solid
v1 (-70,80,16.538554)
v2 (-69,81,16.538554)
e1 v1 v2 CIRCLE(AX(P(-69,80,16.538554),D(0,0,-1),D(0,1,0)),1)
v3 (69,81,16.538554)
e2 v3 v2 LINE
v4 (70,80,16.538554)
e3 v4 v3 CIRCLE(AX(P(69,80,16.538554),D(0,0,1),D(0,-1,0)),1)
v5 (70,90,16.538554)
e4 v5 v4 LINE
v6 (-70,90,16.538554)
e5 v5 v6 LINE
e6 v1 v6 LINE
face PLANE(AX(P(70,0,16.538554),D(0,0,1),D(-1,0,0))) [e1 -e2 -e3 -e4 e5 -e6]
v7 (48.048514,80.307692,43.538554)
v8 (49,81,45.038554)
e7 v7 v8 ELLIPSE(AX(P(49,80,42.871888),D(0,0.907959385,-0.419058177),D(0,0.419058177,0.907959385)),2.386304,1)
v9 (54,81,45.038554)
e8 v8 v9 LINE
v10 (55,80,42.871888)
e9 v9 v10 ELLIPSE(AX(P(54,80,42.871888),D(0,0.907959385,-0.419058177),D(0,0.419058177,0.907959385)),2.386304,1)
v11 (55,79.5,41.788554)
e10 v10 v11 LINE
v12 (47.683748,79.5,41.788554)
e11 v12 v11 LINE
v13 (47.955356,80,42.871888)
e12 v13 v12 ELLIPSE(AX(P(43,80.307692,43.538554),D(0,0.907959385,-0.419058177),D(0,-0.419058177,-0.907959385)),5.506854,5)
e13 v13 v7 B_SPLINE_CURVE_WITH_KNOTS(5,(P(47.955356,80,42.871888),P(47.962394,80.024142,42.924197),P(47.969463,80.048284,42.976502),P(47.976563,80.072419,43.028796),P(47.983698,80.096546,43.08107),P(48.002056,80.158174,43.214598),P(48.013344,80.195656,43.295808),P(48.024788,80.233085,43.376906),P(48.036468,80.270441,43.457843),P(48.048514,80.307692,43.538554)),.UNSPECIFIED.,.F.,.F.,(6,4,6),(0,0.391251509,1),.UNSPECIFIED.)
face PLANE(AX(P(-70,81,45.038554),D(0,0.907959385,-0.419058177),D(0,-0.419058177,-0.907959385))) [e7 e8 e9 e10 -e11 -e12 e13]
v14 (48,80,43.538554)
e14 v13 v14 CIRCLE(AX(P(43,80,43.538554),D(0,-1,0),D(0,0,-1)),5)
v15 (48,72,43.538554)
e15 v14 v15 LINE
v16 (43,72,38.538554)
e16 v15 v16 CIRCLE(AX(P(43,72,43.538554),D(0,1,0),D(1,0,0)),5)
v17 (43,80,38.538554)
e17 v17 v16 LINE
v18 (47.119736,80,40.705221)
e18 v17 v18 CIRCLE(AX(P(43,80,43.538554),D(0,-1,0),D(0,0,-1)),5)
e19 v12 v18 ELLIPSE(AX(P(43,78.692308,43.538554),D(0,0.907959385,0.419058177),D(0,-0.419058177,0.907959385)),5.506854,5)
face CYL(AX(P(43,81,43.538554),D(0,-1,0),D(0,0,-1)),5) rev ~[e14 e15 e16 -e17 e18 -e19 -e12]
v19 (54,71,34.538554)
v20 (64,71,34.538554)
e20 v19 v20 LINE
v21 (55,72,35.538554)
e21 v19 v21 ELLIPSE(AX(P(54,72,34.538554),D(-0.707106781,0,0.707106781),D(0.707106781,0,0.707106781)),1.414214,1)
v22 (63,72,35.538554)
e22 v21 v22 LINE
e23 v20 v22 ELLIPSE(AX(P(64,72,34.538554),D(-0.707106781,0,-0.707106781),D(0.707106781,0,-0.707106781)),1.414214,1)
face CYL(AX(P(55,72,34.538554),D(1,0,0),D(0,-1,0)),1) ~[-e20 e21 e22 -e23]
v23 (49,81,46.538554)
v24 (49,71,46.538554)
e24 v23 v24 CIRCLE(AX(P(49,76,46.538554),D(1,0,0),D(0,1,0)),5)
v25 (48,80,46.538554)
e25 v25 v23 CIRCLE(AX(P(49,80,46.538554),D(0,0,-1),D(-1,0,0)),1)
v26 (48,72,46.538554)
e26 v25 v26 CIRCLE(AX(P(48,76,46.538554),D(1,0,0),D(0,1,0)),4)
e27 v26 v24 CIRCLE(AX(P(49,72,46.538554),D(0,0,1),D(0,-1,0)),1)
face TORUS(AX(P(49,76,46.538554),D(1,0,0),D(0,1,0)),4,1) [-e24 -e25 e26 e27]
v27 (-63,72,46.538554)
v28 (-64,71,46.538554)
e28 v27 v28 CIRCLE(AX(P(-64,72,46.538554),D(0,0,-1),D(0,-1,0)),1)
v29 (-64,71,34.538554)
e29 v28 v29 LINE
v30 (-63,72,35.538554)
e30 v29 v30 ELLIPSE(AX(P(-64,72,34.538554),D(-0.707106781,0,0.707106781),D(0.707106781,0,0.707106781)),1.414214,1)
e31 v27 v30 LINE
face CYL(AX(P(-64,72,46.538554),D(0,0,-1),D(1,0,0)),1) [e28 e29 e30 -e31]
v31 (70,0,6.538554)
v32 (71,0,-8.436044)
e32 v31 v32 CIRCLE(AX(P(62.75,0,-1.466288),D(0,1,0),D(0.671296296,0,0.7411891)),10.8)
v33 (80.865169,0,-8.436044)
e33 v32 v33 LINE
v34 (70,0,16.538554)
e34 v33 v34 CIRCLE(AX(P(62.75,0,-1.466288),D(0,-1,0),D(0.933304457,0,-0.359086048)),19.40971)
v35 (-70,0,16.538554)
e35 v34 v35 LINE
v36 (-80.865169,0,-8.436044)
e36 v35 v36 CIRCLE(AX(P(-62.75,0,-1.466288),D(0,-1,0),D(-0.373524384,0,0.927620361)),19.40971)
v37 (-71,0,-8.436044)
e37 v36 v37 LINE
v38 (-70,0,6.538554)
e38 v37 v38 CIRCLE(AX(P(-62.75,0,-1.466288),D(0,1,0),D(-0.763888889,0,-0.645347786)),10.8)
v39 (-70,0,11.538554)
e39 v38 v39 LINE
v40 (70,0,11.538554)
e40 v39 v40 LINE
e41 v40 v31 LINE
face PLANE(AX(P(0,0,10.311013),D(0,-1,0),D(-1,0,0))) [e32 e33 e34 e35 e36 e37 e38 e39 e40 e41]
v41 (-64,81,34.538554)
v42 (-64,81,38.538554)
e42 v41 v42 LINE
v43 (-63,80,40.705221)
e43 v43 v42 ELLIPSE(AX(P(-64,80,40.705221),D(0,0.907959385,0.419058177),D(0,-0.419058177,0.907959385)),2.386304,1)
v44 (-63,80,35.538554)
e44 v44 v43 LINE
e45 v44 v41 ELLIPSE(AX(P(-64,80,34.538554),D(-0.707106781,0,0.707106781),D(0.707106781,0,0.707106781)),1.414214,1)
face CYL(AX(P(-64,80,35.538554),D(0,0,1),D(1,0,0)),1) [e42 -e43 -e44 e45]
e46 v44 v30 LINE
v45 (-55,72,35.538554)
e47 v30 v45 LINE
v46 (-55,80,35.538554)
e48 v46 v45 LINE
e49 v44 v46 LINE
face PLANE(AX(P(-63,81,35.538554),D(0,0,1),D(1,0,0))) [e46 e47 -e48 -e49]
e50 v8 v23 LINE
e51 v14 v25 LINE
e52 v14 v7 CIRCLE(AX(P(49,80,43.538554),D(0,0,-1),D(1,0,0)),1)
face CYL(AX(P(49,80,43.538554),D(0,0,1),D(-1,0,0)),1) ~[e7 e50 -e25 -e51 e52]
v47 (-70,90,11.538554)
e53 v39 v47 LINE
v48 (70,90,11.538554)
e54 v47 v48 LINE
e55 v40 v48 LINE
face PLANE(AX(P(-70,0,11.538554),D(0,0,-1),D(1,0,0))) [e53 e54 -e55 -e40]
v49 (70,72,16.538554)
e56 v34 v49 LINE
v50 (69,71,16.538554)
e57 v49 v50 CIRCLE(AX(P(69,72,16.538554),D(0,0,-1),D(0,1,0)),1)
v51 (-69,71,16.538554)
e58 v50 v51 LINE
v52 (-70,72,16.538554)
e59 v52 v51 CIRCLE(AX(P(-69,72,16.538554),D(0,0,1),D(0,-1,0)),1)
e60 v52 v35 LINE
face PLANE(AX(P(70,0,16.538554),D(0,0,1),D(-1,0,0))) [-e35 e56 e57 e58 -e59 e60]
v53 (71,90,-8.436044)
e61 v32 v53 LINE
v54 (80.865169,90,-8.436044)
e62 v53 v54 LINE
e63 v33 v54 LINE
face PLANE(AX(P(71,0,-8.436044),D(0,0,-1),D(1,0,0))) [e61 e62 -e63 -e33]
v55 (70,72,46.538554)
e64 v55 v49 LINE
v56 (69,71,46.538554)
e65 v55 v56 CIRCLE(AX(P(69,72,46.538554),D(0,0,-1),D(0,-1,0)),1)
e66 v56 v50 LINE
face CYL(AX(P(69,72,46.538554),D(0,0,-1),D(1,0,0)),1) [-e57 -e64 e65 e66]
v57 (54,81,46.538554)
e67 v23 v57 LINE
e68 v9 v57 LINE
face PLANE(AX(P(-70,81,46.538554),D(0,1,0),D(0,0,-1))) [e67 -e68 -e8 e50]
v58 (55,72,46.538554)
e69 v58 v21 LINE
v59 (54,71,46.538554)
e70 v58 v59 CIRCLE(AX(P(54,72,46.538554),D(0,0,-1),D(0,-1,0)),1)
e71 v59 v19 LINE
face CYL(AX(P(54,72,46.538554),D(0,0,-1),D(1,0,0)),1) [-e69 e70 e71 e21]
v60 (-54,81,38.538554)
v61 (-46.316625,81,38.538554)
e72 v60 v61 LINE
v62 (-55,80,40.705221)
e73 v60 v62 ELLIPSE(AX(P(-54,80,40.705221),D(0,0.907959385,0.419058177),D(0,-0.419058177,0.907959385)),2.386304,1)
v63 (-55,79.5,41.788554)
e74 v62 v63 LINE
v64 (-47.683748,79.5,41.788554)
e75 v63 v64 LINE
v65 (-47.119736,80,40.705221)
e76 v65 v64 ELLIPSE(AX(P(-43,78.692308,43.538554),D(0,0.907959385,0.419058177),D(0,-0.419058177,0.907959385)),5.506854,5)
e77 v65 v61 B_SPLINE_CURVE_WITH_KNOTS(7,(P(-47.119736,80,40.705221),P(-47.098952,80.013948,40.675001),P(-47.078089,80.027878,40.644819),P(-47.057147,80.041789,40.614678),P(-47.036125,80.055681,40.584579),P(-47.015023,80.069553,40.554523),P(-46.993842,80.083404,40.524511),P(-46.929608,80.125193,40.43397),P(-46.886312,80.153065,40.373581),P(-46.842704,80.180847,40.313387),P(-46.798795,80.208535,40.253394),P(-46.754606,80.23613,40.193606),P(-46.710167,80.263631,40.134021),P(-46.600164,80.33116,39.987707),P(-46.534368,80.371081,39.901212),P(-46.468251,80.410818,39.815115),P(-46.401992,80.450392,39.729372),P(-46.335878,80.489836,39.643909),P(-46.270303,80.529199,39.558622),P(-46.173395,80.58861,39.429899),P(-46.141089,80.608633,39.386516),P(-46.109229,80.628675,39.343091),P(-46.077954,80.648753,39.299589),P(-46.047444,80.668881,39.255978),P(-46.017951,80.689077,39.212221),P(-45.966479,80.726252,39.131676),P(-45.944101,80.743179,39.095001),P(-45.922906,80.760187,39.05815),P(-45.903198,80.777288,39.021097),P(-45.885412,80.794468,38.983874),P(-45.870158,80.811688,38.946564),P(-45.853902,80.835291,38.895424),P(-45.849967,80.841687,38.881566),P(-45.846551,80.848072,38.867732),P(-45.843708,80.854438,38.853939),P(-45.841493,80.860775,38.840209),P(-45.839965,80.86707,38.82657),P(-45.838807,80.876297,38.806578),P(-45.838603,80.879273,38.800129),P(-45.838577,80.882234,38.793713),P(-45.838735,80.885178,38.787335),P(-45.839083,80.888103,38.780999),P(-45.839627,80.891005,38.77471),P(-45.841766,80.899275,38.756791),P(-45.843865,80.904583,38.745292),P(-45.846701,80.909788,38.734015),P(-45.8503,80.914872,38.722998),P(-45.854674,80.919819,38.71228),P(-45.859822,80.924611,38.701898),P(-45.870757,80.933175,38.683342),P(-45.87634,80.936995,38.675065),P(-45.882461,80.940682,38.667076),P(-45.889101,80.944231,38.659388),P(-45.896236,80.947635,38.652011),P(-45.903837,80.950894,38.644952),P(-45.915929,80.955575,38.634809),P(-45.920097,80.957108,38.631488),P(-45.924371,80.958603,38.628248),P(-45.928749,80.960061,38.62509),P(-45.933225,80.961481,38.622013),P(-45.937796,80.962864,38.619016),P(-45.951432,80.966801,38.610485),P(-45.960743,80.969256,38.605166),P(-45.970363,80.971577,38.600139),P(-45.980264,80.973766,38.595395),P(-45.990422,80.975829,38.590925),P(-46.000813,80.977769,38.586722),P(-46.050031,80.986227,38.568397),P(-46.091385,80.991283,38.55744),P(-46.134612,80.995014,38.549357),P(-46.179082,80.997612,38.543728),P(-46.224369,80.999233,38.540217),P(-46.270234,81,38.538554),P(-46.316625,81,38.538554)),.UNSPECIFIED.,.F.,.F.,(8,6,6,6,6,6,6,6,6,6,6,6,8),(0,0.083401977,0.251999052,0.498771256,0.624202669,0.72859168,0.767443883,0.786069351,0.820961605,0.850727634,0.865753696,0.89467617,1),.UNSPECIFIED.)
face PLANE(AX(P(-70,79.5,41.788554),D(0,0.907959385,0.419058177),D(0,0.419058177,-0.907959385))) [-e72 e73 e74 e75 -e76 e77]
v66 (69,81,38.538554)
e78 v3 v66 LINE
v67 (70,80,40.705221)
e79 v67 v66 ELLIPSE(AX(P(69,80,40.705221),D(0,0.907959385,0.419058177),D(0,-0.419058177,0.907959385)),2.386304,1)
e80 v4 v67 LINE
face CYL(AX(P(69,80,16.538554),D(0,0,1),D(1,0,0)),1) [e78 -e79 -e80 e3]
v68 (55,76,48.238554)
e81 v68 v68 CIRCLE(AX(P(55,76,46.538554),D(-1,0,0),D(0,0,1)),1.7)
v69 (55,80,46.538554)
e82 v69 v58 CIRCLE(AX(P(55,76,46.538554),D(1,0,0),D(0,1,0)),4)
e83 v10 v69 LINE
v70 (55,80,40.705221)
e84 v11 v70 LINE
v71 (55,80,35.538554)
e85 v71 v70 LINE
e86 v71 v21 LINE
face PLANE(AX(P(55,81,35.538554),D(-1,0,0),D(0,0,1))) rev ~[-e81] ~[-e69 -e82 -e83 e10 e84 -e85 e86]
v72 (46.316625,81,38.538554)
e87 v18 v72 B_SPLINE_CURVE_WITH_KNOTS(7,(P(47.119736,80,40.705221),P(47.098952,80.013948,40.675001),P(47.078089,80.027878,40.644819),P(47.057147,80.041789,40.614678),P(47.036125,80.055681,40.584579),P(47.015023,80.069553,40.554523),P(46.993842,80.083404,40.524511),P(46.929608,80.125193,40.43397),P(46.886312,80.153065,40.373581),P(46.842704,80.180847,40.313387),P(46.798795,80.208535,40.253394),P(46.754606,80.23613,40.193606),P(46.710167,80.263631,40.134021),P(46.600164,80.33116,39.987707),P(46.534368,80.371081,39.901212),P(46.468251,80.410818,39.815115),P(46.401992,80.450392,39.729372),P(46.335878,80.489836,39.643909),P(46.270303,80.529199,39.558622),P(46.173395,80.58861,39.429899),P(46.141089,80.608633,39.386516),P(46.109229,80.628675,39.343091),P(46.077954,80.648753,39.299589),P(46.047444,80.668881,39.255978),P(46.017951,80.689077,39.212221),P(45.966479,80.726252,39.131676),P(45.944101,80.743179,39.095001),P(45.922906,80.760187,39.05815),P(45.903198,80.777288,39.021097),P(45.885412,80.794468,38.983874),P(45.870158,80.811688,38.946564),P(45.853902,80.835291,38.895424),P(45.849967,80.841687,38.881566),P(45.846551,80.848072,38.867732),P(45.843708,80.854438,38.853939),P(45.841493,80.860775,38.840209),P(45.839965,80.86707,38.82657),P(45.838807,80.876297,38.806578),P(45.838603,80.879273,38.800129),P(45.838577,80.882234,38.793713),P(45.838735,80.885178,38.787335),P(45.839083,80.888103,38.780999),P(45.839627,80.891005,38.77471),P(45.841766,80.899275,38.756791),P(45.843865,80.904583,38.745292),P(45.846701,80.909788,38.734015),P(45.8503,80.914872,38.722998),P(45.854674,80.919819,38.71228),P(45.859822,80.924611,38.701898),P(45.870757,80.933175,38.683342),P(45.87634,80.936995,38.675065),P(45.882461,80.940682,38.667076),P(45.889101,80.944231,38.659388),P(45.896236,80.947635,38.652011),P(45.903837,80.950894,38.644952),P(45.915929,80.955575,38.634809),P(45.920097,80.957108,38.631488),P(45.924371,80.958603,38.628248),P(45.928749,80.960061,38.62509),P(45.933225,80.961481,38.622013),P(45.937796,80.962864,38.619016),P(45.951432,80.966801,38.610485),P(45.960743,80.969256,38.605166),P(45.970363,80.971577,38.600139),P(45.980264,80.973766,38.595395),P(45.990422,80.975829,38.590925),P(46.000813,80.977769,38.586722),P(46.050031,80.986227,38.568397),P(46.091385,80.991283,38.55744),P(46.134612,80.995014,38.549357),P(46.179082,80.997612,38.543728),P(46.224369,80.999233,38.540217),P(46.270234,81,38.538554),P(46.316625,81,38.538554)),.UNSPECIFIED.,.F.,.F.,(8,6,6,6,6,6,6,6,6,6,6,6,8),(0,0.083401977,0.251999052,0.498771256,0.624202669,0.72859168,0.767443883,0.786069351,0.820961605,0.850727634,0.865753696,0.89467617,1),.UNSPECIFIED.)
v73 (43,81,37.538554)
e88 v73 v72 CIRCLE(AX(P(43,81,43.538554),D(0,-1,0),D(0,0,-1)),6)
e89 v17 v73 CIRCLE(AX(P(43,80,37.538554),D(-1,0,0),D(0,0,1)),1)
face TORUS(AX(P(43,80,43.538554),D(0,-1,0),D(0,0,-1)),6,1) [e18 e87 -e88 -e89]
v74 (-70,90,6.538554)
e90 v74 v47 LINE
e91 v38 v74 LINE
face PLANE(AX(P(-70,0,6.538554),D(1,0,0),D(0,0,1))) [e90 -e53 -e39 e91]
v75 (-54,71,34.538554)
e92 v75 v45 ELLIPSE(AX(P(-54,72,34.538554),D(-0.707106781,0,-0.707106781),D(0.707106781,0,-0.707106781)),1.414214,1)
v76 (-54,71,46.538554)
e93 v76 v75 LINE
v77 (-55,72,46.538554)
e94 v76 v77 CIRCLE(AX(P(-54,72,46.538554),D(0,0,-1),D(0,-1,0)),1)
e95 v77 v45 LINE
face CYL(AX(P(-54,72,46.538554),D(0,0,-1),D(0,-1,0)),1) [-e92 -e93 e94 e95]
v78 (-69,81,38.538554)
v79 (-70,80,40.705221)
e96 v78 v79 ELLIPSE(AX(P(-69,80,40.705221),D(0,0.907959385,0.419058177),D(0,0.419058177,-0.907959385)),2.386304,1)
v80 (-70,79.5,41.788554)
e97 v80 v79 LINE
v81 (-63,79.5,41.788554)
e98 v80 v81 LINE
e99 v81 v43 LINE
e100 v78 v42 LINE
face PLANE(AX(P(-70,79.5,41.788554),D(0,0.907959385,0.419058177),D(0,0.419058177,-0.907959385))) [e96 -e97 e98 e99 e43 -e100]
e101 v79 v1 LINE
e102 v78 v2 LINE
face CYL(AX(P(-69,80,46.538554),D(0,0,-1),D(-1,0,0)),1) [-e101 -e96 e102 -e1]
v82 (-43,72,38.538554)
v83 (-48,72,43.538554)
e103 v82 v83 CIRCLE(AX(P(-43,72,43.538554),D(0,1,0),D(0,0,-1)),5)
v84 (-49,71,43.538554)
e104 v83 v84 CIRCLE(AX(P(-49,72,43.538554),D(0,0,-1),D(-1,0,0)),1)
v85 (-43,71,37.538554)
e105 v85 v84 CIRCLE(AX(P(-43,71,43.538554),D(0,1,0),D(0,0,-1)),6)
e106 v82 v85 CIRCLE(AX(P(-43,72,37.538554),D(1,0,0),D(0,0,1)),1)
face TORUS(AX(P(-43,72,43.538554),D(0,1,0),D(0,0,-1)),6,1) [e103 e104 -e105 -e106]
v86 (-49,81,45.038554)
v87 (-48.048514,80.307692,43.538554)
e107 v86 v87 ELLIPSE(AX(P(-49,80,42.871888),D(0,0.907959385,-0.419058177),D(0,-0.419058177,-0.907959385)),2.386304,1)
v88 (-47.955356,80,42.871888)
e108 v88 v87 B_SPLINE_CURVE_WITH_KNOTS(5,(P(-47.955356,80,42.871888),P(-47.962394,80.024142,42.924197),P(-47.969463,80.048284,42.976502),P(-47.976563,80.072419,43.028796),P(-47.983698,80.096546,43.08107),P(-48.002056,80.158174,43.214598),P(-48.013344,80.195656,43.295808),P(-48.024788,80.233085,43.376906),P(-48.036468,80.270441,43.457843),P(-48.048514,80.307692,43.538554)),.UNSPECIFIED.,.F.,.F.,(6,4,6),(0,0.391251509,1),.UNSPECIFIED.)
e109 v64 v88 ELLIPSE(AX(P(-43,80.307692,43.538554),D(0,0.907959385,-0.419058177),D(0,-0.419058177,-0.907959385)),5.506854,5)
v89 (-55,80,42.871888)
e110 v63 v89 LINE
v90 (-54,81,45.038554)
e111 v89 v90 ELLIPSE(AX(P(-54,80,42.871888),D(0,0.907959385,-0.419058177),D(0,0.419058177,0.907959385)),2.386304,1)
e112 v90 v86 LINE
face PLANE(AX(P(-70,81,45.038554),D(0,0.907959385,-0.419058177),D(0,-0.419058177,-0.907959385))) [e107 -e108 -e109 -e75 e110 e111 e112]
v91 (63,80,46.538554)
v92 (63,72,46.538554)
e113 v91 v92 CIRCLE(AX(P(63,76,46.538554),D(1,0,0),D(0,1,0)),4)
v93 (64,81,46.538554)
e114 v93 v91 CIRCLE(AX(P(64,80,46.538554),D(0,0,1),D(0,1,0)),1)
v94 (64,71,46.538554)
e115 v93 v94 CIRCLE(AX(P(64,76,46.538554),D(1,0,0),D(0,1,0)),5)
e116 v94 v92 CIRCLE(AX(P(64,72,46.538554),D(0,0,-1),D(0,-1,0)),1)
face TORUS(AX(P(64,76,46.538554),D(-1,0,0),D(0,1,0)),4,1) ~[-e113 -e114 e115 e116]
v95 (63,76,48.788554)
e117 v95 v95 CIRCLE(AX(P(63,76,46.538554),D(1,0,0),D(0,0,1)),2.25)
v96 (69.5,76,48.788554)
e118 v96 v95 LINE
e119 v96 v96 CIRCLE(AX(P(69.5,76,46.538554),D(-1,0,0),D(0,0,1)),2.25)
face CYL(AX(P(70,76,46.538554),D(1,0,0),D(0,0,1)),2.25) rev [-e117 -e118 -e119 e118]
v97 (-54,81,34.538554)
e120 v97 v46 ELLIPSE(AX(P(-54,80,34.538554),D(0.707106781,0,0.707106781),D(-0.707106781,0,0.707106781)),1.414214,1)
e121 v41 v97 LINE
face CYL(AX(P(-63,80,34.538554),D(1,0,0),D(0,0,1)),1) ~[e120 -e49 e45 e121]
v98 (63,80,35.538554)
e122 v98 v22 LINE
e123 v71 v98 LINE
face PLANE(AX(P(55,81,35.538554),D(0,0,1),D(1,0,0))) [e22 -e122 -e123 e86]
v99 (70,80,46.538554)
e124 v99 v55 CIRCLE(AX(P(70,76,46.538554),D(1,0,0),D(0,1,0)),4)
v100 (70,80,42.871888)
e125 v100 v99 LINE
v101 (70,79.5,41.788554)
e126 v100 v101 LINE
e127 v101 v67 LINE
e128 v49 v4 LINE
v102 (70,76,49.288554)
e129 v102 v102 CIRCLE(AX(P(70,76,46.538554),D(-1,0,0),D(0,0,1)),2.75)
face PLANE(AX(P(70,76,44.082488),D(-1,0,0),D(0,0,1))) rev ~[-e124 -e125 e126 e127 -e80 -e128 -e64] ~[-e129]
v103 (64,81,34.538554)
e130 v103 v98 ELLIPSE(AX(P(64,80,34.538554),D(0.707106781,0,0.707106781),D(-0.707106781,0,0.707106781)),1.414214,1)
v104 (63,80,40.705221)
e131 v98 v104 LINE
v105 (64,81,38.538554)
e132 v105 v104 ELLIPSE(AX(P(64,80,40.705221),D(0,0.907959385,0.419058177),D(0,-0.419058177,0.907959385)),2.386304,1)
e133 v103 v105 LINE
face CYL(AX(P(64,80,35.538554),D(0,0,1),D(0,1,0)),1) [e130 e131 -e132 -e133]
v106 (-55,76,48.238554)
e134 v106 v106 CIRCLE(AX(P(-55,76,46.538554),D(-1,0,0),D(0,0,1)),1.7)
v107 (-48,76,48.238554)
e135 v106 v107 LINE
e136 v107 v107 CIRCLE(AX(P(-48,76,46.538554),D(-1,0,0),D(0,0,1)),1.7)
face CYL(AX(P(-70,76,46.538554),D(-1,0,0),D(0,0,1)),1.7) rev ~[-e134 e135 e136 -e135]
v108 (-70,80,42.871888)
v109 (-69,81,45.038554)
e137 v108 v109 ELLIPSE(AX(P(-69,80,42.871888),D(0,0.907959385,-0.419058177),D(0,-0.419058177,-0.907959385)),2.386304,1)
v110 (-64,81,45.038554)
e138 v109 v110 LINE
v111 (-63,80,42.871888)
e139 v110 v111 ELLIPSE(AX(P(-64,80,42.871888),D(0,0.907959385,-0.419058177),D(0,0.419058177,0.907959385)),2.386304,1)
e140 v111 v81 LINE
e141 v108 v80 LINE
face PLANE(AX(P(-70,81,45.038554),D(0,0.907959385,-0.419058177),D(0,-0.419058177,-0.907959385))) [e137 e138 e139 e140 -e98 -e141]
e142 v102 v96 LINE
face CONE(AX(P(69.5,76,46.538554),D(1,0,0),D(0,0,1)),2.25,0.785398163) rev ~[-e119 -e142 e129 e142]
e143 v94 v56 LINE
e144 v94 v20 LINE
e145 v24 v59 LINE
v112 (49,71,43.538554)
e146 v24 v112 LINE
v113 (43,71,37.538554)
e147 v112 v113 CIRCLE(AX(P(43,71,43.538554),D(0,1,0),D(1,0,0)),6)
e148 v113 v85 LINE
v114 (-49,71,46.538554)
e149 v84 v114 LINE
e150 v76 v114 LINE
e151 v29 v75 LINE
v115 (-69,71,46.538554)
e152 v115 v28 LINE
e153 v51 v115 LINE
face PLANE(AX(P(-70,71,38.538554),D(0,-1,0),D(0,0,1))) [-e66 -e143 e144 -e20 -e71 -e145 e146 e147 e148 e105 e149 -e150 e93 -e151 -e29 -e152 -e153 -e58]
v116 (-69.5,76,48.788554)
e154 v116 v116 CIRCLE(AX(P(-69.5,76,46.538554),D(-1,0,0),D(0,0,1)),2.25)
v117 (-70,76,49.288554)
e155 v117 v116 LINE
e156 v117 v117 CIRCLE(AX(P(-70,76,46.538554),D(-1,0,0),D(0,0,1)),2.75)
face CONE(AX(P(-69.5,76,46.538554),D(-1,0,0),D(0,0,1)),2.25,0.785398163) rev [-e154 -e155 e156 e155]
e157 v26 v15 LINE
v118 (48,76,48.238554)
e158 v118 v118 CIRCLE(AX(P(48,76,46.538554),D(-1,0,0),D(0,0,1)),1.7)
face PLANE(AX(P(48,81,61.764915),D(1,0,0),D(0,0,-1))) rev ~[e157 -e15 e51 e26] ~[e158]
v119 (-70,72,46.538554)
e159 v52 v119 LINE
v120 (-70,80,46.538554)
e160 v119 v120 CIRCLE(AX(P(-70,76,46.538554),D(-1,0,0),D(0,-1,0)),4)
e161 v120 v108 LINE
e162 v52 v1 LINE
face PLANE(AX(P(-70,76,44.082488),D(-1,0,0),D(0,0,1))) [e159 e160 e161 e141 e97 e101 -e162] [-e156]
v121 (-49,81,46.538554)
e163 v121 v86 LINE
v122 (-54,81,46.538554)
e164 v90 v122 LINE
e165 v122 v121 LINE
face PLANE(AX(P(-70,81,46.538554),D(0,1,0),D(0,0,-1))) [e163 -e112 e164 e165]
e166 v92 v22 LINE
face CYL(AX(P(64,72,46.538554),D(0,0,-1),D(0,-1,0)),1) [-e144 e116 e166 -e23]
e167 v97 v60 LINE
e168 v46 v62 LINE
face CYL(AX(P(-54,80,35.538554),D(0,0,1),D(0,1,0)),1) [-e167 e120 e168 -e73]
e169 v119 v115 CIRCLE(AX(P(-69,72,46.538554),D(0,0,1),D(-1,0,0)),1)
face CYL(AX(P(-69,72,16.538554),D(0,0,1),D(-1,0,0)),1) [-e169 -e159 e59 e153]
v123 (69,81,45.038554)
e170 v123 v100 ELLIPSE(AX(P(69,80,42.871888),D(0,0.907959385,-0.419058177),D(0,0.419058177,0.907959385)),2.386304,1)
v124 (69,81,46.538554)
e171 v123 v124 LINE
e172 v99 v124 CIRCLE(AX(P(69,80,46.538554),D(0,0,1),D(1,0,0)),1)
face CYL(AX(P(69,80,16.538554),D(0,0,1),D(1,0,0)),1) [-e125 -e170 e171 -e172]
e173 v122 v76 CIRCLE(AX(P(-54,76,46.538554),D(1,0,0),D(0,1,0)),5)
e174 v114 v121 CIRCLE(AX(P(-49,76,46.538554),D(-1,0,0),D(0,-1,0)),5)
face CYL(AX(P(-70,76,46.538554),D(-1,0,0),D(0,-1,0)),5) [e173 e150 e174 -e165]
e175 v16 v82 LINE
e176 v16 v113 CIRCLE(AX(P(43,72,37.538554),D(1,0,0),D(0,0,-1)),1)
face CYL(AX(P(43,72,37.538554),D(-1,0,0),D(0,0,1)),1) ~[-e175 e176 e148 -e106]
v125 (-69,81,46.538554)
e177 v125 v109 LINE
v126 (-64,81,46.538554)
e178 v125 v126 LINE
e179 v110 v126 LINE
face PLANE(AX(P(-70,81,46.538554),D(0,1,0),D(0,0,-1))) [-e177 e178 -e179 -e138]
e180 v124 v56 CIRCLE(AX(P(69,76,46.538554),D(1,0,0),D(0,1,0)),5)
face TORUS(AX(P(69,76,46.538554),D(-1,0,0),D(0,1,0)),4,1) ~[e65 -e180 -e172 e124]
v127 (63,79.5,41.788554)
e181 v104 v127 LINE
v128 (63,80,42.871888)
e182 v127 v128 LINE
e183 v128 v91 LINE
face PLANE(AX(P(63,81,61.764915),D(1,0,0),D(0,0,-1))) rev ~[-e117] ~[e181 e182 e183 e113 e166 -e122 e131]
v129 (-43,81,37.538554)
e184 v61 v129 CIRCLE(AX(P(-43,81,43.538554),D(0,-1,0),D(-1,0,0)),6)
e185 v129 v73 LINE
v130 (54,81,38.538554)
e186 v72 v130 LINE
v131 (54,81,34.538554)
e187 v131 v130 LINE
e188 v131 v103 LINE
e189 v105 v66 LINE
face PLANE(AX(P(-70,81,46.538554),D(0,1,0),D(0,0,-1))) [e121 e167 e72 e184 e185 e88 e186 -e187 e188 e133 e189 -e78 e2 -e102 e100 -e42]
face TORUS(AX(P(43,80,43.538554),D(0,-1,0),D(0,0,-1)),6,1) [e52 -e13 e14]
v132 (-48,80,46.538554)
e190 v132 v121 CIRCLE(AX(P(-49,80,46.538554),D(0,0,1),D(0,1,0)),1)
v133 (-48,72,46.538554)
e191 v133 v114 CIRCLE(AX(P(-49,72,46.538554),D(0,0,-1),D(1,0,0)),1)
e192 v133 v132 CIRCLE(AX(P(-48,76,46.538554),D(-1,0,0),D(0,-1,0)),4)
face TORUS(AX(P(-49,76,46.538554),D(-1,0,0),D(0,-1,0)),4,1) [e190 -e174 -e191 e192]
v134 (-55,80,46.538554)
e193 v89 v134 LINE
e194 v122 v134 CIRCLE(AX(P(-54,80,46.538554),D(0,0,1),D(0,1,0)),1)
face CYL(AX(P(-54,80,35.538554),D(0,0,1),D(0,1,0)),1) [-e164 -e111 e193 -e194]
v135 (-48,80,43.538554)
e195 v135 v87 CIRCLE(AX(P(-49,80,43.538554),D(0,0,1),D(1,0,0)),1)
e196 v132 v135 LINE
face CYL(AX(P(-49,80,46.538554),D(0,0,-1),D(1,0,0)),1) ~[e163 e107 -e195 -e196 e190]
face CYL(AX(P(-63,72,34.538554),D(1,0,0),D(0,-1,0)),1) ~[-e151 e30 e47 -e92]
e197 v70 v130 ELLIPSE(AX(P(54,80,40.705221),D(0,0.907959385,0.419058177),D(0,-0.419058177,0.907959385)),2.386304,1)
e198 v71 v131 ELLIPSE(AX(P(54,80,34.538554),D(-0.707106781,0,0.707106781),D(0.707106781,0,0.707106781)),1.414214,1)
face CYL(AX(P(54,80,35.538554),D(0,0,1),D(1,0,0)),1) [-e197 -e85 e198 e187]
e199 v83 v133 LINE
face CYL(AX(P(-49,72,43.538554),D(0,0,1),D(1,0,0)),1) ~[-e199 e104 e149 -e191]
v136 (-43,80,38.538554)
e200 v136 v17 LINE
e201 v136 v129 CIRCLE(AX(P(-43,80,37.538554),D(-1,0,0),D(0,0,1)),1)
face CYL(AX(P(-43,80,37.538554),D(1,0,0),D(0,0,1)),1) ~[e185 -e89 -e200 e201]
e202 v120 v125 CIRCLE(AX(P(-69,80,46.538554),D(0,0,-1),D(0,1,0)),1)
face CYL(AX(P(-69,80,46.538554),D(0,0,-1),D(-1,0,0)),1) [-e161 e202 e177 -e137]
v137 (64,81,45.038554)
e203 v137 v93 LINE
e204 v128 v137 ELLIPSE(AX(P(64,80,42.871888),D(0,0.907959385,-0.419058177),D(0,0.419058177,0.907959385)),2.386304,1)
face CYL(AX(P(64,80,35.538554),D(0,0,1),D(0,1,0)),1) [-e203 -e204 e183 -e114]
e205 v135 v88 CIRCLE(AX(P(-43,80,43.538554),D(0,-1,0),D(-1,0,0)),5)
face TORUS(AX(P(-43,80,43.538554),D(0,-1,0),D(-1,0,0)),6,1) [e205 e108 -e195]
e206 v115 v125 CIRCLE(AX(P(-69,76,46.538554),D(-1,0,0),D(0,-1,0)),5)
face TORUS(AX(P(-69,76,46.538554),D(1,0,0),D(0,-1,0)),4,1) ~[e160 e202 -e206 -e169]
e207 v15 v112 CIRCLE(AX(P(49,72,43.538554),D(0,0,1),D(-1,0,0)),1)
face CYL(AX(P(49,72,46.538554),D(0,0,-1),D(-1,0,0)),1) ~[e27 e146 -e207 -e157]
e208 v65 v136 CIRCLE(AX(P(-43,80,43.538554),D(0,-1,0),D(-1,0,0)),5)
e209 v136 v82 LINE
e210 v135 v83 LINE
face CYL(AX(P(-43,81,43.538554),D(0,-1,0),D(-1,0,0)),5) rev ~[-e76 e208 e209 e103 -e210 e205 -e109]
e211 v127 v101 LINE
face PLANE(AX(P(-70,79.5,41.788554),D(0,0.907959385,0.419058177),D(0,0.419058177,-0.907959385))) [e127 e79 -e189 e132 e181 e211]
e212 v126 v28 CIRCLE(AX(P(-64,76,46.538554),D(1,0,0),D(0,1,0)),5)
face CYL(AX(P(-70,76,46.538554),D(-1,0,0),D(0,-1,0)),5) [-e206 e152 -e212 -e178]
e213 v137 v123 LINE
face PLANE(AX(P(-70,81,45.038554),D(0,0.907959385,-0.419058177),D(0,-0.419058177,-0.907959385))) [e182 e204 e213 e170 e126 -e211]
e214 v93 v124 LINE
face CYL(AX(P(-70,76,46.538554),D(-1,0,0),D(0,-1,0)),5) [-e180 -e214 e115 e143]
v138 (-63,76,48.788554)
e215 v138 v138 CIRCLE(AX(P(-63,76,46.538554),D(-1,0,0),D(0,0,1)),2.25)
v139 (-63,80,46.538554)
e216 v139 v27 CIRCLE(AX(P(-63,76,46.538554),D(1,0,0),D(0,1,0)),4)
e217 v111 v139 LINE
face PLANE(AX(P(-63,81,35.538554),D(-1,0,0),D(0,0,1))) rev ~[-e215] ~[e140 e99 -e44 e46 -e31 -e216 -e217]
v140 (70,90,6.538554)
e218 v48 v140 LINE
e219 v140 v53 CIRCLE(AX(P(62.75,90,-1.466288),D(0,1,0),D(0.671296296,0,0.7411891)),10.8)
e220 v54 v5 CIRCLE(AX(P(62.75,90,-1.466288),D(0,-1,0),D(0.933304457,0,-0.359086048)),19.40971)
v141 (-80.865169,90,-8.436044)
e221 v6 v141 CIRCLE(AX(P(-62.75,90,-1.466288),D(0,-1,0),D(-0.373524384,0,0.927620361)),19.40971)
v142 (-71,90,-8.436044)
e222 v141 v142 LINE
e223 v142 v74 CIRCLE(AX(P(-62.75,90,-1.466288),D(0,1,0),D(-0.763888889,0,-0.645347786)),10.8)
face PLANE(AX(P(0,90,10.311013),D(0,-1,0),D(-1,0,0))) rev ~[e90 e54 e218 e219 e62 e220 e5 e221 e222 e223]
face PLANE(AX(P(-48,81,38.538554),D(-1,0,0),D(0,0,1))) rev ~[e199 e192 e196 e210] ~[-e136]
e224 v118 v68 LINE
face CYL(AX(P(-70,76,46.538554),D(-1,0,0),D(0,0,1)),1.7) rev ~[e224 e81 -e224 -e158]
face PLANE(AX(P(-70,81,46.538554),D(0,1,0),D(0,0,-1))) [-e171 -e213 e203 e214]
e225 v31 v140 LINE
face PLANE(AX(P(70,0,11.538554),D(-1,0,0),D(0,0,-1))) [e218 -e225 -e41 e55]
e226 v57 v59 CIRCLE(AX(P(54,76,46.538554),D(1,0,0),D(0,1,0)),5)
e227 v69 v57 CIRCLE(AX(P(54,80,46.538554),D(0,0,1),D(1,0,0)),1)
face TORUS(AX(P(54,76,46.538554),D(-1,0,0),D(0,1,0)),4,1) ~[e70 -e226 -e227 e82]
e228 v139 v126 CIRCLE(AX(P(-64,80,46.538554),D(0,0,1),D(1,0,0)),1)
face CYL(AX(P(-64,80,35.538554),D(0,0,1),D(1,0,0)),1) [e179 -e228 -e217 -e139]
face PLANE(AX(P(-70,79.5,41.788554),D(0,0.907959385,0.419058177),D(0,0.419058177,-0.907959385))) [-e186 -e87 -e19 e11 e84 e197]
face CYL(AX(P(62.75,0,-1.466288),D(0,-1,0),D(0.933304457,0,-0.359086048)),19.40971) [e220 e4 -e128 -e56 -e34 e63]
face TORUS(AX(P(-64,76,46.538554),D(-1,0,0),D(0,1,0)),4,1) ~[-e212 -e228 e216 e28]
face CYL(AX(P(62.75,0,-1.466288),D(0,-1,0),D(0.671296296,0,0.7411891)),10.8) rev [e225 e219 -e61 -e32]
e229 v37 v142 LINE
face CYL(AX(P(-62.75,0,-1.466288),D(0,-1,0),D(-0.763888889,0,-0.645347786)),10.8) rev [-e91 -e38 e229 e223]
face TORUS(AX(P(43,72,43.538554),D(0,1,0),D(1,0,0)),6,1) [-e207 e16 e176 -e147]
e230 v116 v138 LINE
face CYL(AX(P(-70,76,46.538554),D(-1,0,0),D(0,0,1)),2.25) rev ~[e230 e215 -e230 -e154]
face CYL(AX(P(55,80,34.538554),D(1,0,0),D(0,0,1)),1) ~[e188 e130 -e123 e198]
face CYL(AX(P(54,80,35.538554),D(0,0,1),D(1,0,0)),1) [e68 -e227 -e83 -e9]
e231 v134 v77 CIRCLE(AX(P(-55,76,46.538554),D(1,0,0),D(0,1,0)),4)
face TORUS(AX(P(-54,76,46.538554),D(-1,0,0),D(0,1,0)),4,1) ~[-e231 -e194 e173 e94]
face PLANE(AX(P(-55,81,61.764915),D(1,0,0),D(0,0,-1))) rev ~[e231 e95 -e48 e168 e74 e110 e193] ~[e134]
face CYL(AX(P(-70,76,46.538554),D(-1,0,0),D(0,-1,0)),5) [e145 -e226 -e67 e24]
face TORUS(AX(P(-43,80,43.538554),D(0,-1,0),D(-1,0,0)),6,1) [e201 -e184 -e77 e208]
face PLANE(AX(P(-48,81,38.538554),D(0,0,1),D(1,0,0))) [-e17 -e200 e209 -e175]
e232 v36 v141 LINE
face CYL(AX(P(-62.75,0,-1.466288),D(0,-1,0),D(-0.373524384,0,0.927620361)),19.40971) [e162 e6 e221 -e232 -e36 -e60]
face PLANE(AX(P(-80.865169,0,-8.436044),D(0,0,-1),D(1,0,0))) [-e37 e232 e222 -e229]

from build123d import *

# Parameters (mm, degrees)
BOSS_EXTRU_1_DEPTH      = 90
ESQUISSE2_W             = 140
ESQUISSE2_H             = 22
BOSS_EXTRU_2_DEPTH      = 10
ESQUISSE3_R             = 1.7
BOSS_EXTRU_3_DEPTH      = 140
ESQUISSE4_W             = 8
ESQUISSE4_H             = 15.226360619
ESQUISSE4_H_2           = 8
ESQUISSE4_H_3           = 3
ESQUISSE4_W_2           = 96
ENL_V_MAT_EXTRU_1_DEPTH = 10
ESQUISSE6_R             = 2.25
ENL_V_MAT_EXTRU_2_DEPTH = 10
CHANFREIN1_SIZE         = 0.5
CONG_4_R                = 5
CONG_1_R                = 1
ENL_V_MAT_EXTRU_4_DEPTH = 153.159710088


with BuildPart() as part:
    # Esquisse1 → Boss.-Extru.1 (new body)
    with BuildSketch(Plane(origin=(0, 0, 0), x_dir=(1, 0, 0), z_dir=(0, 1, 0))):
        with BuildLine():
            Line((-70, -6.538554455), (-70, -11.538554455))
            Line((-70, -11.538554455), (70, -11.538554455))
            Line((70, -11.538554455), (70, -6.538554455))
            ThreePointArc((70, -6.538554455), (73.525998754, 0.746669281), (71, 8.436043923))
            Line((71, 8.436043923), (80.865168939, 8.436043923))
            ThreePointArc((80.865168939, 8.436043923), (80.548331098, -6.276854674), (70, -16.538554455))
            Line((70, -16.538554455), (-70, -16.538554455))
            ThreePointArc((-70, -16.538554455), (-80.548331098, -6.276854674), (-80.865168939, 8.436043923))
            Line((-80.865168939, 8.436043923), (-71, 8.436043923))
            ThreePointArc((-71, 8.436043923), (-73.525998754, 0.746669281), (-70, -6.538554455))
        make_face()
    extrude(amount=BOSS_EXTRU_1_DEPTH)

    # Esquisse2 → Boss.-Extru.2 (add)
    with BuildSketch(Plane(origin=(0, 71, 0), x_dir=(-1, 0, 0), z_dir=(0, -1, 0))):
        with Locations((0, -27.538554455)):
            Rectangle(ESQUISSE2_W, ESQUISSE2_H)
    extrude(amount=-BOSS_EXTRU_2_DEPTH)

    # Esquisse3 → Boss.-Extru.3 (add)
    with BuildSketch(Plane.ZY.offset(70)):
        with BuildLine():
            Line((38.538554455, 71), (46.538554455, 71))
            ThreePointArc((46.538554455, 71), (51.538554455, 76), (46.538554455, 81))
            Line((46.538554455, 81), (38.538554455, 81))
            Line((38.538554455, 81), (38.538554455, 71))
        make_face()
        with Locations((46.538554455, 76)):
            Circle(ESQUISSE3_R, mode=Mode.SUBTRACT)
    extrude(amount=-BOSS_EXTRU_3_DEPTH)

    # Esquisse4 → Enlèv. mat.-Extru.1 (cut)
    with BuildSketch(Plane(origin=(0, 81, 0), x_dir=(1, 0, 0), z_dir=(0, 1, 0))):
        with Locations((-59, -54.151734765)):
            Rectangle(ESQUISSE4_W, ESQUISSE4_H)
        with Locations((-59, -42.538554455)):
            Rectangle(ESQUISSE4_W, ESQUISSE4_H_2)
        with Locations((-59, -37.038554455)):
            Rectangle(ESQUISSE4_W, ESQUISSE4_H_3)
        with Locations((0, -42.538554455)):
            Rectangle(ESQUISSE4_W_2, ESQUISSE4_H_2)
        with Locations((0, -54.151734765)):
            Rectangle(ESQUISSE4_W_2, ESQUISSE4_H)
        with Locations((59, -54.151734765)):
            Rectangle(ESQUISSE4_W, ESQUISSE4_H)
        with Locations((59, -42.538554455)):
            Rectangle(ESQUISSE4_W, ESQUISSE4_H_2)
        with Locations((59, -37.038554455)):
            Rectangle(ESQUISSE4_W, ESQUISSE4_H_3)
    extrude(amount=-ENL_V_MAT_EXTRU_1_DEPTH, mode=Mode.SUBTRACT)

    # Esquisse6 → Enlèv. mat.-Extru.2 (cut)
    with BuildSketch(Plane.ZY.offset(70)):
        with Locations((46.538554455, 76)):
            Circle(ESQUISSE6_R)
    enl_v_mat_extru_2 = extrude(amount=-ENL_V_MAT_EXTRU_2_DEPTH, mode=Mode.SUBTRACT)

    # Symétrie1: Enlèv. mat.-Extru.2 across plane
    add(enl_v_mat_extru_2.mirror(Plane(origin=(0, 0, 0), x_dir=(0, 0, 1), z_dir=(1, 0, 0))), mode=Mode.SUBTRACT)

    # Chanfrein1
    chanfrein1_edges = [part.edges().sort_by_distance(p)[0] for p in [
        (-70, 76, 44.288554455),
        (70, 76, 44.288554455),
    ]]
    chamfer(chanfrein1_edges, length=CHANFREIN1_SIZE)

    # Congé4
    cong_4_edges = [part.edges().sort_by_distance(p)[0] for p in [
        (48, 76, 38.538554455),
        (-48, 76, 38.538554455),
    ]]
    fillet(cong_4_edges, radius=CONG_4_R)

    # Congé1
    cong_1_edges = [part.edges().sort_by_distance(p)[0] for p in [
        (59, 71, 35.538554455),
        (63, 71, 41.038554455),
        (55, 81, 41.038554455),
        (63, 81, 41.038554455),
        (63, 76, 51.538554455),
        (55, 76, 51.538554455),
        (55, 71, 41.038554455),
        (59, 81, 35.538554455),
        (0, 81, 38.538554455),
        (0, 71, 38.538554455),
        (48, 81, 45.038554455),
        (48, 71, 45.038554455),
        (-48, 71, 45.038554455),
        (-48, 81, 45.038554455),
        (46.535533906, 81, 40.003020549),
        (46.535533906, 71, 40.003020549),
        (-46.535533906, 81, 40.003020549),
        (-46.535533906, 71, 40.003020549),
        (70, 81, 31.538554455),
        (-70, 81, 31.538554455),
        (70, 71, 31.538554455),
        (-70, 71, 31.538554455),
        (70, 76, 51.538554455),
        (-70, 76, 51.538554455),
        (-59, 71, 35.538554455),
        (-55, 71, 41.038554455),
        (-63, 81, 41.038554455),
        (-55, 81, 41.038554455),
        (-55, 76, 51.538554455),
        (-63, 76, 51.538554455),
        (-63, 71, 41.038554455),
        (-59, 81, 35.538554455),
        (48, 76, 51.538554455),
        (-48, 76, 51.538554455),
    ]]
    fillet(cong_1_edges, radius=CONG_1_R)

    # Esquisse8 → Enlèv. mat.-Extru.4 (cut, through all)
    with BuildSketch(Plane.ZY.offset(70)):
        Polygon((45.038554455, 81), (41.788554455, 79.5), (38.538554455, 81), align=None)
    extrude(amount=-ENL_V_MAT_EXTRU_4_DEPTH, mode=Mode.SUBTRACT)


solid = part.part
